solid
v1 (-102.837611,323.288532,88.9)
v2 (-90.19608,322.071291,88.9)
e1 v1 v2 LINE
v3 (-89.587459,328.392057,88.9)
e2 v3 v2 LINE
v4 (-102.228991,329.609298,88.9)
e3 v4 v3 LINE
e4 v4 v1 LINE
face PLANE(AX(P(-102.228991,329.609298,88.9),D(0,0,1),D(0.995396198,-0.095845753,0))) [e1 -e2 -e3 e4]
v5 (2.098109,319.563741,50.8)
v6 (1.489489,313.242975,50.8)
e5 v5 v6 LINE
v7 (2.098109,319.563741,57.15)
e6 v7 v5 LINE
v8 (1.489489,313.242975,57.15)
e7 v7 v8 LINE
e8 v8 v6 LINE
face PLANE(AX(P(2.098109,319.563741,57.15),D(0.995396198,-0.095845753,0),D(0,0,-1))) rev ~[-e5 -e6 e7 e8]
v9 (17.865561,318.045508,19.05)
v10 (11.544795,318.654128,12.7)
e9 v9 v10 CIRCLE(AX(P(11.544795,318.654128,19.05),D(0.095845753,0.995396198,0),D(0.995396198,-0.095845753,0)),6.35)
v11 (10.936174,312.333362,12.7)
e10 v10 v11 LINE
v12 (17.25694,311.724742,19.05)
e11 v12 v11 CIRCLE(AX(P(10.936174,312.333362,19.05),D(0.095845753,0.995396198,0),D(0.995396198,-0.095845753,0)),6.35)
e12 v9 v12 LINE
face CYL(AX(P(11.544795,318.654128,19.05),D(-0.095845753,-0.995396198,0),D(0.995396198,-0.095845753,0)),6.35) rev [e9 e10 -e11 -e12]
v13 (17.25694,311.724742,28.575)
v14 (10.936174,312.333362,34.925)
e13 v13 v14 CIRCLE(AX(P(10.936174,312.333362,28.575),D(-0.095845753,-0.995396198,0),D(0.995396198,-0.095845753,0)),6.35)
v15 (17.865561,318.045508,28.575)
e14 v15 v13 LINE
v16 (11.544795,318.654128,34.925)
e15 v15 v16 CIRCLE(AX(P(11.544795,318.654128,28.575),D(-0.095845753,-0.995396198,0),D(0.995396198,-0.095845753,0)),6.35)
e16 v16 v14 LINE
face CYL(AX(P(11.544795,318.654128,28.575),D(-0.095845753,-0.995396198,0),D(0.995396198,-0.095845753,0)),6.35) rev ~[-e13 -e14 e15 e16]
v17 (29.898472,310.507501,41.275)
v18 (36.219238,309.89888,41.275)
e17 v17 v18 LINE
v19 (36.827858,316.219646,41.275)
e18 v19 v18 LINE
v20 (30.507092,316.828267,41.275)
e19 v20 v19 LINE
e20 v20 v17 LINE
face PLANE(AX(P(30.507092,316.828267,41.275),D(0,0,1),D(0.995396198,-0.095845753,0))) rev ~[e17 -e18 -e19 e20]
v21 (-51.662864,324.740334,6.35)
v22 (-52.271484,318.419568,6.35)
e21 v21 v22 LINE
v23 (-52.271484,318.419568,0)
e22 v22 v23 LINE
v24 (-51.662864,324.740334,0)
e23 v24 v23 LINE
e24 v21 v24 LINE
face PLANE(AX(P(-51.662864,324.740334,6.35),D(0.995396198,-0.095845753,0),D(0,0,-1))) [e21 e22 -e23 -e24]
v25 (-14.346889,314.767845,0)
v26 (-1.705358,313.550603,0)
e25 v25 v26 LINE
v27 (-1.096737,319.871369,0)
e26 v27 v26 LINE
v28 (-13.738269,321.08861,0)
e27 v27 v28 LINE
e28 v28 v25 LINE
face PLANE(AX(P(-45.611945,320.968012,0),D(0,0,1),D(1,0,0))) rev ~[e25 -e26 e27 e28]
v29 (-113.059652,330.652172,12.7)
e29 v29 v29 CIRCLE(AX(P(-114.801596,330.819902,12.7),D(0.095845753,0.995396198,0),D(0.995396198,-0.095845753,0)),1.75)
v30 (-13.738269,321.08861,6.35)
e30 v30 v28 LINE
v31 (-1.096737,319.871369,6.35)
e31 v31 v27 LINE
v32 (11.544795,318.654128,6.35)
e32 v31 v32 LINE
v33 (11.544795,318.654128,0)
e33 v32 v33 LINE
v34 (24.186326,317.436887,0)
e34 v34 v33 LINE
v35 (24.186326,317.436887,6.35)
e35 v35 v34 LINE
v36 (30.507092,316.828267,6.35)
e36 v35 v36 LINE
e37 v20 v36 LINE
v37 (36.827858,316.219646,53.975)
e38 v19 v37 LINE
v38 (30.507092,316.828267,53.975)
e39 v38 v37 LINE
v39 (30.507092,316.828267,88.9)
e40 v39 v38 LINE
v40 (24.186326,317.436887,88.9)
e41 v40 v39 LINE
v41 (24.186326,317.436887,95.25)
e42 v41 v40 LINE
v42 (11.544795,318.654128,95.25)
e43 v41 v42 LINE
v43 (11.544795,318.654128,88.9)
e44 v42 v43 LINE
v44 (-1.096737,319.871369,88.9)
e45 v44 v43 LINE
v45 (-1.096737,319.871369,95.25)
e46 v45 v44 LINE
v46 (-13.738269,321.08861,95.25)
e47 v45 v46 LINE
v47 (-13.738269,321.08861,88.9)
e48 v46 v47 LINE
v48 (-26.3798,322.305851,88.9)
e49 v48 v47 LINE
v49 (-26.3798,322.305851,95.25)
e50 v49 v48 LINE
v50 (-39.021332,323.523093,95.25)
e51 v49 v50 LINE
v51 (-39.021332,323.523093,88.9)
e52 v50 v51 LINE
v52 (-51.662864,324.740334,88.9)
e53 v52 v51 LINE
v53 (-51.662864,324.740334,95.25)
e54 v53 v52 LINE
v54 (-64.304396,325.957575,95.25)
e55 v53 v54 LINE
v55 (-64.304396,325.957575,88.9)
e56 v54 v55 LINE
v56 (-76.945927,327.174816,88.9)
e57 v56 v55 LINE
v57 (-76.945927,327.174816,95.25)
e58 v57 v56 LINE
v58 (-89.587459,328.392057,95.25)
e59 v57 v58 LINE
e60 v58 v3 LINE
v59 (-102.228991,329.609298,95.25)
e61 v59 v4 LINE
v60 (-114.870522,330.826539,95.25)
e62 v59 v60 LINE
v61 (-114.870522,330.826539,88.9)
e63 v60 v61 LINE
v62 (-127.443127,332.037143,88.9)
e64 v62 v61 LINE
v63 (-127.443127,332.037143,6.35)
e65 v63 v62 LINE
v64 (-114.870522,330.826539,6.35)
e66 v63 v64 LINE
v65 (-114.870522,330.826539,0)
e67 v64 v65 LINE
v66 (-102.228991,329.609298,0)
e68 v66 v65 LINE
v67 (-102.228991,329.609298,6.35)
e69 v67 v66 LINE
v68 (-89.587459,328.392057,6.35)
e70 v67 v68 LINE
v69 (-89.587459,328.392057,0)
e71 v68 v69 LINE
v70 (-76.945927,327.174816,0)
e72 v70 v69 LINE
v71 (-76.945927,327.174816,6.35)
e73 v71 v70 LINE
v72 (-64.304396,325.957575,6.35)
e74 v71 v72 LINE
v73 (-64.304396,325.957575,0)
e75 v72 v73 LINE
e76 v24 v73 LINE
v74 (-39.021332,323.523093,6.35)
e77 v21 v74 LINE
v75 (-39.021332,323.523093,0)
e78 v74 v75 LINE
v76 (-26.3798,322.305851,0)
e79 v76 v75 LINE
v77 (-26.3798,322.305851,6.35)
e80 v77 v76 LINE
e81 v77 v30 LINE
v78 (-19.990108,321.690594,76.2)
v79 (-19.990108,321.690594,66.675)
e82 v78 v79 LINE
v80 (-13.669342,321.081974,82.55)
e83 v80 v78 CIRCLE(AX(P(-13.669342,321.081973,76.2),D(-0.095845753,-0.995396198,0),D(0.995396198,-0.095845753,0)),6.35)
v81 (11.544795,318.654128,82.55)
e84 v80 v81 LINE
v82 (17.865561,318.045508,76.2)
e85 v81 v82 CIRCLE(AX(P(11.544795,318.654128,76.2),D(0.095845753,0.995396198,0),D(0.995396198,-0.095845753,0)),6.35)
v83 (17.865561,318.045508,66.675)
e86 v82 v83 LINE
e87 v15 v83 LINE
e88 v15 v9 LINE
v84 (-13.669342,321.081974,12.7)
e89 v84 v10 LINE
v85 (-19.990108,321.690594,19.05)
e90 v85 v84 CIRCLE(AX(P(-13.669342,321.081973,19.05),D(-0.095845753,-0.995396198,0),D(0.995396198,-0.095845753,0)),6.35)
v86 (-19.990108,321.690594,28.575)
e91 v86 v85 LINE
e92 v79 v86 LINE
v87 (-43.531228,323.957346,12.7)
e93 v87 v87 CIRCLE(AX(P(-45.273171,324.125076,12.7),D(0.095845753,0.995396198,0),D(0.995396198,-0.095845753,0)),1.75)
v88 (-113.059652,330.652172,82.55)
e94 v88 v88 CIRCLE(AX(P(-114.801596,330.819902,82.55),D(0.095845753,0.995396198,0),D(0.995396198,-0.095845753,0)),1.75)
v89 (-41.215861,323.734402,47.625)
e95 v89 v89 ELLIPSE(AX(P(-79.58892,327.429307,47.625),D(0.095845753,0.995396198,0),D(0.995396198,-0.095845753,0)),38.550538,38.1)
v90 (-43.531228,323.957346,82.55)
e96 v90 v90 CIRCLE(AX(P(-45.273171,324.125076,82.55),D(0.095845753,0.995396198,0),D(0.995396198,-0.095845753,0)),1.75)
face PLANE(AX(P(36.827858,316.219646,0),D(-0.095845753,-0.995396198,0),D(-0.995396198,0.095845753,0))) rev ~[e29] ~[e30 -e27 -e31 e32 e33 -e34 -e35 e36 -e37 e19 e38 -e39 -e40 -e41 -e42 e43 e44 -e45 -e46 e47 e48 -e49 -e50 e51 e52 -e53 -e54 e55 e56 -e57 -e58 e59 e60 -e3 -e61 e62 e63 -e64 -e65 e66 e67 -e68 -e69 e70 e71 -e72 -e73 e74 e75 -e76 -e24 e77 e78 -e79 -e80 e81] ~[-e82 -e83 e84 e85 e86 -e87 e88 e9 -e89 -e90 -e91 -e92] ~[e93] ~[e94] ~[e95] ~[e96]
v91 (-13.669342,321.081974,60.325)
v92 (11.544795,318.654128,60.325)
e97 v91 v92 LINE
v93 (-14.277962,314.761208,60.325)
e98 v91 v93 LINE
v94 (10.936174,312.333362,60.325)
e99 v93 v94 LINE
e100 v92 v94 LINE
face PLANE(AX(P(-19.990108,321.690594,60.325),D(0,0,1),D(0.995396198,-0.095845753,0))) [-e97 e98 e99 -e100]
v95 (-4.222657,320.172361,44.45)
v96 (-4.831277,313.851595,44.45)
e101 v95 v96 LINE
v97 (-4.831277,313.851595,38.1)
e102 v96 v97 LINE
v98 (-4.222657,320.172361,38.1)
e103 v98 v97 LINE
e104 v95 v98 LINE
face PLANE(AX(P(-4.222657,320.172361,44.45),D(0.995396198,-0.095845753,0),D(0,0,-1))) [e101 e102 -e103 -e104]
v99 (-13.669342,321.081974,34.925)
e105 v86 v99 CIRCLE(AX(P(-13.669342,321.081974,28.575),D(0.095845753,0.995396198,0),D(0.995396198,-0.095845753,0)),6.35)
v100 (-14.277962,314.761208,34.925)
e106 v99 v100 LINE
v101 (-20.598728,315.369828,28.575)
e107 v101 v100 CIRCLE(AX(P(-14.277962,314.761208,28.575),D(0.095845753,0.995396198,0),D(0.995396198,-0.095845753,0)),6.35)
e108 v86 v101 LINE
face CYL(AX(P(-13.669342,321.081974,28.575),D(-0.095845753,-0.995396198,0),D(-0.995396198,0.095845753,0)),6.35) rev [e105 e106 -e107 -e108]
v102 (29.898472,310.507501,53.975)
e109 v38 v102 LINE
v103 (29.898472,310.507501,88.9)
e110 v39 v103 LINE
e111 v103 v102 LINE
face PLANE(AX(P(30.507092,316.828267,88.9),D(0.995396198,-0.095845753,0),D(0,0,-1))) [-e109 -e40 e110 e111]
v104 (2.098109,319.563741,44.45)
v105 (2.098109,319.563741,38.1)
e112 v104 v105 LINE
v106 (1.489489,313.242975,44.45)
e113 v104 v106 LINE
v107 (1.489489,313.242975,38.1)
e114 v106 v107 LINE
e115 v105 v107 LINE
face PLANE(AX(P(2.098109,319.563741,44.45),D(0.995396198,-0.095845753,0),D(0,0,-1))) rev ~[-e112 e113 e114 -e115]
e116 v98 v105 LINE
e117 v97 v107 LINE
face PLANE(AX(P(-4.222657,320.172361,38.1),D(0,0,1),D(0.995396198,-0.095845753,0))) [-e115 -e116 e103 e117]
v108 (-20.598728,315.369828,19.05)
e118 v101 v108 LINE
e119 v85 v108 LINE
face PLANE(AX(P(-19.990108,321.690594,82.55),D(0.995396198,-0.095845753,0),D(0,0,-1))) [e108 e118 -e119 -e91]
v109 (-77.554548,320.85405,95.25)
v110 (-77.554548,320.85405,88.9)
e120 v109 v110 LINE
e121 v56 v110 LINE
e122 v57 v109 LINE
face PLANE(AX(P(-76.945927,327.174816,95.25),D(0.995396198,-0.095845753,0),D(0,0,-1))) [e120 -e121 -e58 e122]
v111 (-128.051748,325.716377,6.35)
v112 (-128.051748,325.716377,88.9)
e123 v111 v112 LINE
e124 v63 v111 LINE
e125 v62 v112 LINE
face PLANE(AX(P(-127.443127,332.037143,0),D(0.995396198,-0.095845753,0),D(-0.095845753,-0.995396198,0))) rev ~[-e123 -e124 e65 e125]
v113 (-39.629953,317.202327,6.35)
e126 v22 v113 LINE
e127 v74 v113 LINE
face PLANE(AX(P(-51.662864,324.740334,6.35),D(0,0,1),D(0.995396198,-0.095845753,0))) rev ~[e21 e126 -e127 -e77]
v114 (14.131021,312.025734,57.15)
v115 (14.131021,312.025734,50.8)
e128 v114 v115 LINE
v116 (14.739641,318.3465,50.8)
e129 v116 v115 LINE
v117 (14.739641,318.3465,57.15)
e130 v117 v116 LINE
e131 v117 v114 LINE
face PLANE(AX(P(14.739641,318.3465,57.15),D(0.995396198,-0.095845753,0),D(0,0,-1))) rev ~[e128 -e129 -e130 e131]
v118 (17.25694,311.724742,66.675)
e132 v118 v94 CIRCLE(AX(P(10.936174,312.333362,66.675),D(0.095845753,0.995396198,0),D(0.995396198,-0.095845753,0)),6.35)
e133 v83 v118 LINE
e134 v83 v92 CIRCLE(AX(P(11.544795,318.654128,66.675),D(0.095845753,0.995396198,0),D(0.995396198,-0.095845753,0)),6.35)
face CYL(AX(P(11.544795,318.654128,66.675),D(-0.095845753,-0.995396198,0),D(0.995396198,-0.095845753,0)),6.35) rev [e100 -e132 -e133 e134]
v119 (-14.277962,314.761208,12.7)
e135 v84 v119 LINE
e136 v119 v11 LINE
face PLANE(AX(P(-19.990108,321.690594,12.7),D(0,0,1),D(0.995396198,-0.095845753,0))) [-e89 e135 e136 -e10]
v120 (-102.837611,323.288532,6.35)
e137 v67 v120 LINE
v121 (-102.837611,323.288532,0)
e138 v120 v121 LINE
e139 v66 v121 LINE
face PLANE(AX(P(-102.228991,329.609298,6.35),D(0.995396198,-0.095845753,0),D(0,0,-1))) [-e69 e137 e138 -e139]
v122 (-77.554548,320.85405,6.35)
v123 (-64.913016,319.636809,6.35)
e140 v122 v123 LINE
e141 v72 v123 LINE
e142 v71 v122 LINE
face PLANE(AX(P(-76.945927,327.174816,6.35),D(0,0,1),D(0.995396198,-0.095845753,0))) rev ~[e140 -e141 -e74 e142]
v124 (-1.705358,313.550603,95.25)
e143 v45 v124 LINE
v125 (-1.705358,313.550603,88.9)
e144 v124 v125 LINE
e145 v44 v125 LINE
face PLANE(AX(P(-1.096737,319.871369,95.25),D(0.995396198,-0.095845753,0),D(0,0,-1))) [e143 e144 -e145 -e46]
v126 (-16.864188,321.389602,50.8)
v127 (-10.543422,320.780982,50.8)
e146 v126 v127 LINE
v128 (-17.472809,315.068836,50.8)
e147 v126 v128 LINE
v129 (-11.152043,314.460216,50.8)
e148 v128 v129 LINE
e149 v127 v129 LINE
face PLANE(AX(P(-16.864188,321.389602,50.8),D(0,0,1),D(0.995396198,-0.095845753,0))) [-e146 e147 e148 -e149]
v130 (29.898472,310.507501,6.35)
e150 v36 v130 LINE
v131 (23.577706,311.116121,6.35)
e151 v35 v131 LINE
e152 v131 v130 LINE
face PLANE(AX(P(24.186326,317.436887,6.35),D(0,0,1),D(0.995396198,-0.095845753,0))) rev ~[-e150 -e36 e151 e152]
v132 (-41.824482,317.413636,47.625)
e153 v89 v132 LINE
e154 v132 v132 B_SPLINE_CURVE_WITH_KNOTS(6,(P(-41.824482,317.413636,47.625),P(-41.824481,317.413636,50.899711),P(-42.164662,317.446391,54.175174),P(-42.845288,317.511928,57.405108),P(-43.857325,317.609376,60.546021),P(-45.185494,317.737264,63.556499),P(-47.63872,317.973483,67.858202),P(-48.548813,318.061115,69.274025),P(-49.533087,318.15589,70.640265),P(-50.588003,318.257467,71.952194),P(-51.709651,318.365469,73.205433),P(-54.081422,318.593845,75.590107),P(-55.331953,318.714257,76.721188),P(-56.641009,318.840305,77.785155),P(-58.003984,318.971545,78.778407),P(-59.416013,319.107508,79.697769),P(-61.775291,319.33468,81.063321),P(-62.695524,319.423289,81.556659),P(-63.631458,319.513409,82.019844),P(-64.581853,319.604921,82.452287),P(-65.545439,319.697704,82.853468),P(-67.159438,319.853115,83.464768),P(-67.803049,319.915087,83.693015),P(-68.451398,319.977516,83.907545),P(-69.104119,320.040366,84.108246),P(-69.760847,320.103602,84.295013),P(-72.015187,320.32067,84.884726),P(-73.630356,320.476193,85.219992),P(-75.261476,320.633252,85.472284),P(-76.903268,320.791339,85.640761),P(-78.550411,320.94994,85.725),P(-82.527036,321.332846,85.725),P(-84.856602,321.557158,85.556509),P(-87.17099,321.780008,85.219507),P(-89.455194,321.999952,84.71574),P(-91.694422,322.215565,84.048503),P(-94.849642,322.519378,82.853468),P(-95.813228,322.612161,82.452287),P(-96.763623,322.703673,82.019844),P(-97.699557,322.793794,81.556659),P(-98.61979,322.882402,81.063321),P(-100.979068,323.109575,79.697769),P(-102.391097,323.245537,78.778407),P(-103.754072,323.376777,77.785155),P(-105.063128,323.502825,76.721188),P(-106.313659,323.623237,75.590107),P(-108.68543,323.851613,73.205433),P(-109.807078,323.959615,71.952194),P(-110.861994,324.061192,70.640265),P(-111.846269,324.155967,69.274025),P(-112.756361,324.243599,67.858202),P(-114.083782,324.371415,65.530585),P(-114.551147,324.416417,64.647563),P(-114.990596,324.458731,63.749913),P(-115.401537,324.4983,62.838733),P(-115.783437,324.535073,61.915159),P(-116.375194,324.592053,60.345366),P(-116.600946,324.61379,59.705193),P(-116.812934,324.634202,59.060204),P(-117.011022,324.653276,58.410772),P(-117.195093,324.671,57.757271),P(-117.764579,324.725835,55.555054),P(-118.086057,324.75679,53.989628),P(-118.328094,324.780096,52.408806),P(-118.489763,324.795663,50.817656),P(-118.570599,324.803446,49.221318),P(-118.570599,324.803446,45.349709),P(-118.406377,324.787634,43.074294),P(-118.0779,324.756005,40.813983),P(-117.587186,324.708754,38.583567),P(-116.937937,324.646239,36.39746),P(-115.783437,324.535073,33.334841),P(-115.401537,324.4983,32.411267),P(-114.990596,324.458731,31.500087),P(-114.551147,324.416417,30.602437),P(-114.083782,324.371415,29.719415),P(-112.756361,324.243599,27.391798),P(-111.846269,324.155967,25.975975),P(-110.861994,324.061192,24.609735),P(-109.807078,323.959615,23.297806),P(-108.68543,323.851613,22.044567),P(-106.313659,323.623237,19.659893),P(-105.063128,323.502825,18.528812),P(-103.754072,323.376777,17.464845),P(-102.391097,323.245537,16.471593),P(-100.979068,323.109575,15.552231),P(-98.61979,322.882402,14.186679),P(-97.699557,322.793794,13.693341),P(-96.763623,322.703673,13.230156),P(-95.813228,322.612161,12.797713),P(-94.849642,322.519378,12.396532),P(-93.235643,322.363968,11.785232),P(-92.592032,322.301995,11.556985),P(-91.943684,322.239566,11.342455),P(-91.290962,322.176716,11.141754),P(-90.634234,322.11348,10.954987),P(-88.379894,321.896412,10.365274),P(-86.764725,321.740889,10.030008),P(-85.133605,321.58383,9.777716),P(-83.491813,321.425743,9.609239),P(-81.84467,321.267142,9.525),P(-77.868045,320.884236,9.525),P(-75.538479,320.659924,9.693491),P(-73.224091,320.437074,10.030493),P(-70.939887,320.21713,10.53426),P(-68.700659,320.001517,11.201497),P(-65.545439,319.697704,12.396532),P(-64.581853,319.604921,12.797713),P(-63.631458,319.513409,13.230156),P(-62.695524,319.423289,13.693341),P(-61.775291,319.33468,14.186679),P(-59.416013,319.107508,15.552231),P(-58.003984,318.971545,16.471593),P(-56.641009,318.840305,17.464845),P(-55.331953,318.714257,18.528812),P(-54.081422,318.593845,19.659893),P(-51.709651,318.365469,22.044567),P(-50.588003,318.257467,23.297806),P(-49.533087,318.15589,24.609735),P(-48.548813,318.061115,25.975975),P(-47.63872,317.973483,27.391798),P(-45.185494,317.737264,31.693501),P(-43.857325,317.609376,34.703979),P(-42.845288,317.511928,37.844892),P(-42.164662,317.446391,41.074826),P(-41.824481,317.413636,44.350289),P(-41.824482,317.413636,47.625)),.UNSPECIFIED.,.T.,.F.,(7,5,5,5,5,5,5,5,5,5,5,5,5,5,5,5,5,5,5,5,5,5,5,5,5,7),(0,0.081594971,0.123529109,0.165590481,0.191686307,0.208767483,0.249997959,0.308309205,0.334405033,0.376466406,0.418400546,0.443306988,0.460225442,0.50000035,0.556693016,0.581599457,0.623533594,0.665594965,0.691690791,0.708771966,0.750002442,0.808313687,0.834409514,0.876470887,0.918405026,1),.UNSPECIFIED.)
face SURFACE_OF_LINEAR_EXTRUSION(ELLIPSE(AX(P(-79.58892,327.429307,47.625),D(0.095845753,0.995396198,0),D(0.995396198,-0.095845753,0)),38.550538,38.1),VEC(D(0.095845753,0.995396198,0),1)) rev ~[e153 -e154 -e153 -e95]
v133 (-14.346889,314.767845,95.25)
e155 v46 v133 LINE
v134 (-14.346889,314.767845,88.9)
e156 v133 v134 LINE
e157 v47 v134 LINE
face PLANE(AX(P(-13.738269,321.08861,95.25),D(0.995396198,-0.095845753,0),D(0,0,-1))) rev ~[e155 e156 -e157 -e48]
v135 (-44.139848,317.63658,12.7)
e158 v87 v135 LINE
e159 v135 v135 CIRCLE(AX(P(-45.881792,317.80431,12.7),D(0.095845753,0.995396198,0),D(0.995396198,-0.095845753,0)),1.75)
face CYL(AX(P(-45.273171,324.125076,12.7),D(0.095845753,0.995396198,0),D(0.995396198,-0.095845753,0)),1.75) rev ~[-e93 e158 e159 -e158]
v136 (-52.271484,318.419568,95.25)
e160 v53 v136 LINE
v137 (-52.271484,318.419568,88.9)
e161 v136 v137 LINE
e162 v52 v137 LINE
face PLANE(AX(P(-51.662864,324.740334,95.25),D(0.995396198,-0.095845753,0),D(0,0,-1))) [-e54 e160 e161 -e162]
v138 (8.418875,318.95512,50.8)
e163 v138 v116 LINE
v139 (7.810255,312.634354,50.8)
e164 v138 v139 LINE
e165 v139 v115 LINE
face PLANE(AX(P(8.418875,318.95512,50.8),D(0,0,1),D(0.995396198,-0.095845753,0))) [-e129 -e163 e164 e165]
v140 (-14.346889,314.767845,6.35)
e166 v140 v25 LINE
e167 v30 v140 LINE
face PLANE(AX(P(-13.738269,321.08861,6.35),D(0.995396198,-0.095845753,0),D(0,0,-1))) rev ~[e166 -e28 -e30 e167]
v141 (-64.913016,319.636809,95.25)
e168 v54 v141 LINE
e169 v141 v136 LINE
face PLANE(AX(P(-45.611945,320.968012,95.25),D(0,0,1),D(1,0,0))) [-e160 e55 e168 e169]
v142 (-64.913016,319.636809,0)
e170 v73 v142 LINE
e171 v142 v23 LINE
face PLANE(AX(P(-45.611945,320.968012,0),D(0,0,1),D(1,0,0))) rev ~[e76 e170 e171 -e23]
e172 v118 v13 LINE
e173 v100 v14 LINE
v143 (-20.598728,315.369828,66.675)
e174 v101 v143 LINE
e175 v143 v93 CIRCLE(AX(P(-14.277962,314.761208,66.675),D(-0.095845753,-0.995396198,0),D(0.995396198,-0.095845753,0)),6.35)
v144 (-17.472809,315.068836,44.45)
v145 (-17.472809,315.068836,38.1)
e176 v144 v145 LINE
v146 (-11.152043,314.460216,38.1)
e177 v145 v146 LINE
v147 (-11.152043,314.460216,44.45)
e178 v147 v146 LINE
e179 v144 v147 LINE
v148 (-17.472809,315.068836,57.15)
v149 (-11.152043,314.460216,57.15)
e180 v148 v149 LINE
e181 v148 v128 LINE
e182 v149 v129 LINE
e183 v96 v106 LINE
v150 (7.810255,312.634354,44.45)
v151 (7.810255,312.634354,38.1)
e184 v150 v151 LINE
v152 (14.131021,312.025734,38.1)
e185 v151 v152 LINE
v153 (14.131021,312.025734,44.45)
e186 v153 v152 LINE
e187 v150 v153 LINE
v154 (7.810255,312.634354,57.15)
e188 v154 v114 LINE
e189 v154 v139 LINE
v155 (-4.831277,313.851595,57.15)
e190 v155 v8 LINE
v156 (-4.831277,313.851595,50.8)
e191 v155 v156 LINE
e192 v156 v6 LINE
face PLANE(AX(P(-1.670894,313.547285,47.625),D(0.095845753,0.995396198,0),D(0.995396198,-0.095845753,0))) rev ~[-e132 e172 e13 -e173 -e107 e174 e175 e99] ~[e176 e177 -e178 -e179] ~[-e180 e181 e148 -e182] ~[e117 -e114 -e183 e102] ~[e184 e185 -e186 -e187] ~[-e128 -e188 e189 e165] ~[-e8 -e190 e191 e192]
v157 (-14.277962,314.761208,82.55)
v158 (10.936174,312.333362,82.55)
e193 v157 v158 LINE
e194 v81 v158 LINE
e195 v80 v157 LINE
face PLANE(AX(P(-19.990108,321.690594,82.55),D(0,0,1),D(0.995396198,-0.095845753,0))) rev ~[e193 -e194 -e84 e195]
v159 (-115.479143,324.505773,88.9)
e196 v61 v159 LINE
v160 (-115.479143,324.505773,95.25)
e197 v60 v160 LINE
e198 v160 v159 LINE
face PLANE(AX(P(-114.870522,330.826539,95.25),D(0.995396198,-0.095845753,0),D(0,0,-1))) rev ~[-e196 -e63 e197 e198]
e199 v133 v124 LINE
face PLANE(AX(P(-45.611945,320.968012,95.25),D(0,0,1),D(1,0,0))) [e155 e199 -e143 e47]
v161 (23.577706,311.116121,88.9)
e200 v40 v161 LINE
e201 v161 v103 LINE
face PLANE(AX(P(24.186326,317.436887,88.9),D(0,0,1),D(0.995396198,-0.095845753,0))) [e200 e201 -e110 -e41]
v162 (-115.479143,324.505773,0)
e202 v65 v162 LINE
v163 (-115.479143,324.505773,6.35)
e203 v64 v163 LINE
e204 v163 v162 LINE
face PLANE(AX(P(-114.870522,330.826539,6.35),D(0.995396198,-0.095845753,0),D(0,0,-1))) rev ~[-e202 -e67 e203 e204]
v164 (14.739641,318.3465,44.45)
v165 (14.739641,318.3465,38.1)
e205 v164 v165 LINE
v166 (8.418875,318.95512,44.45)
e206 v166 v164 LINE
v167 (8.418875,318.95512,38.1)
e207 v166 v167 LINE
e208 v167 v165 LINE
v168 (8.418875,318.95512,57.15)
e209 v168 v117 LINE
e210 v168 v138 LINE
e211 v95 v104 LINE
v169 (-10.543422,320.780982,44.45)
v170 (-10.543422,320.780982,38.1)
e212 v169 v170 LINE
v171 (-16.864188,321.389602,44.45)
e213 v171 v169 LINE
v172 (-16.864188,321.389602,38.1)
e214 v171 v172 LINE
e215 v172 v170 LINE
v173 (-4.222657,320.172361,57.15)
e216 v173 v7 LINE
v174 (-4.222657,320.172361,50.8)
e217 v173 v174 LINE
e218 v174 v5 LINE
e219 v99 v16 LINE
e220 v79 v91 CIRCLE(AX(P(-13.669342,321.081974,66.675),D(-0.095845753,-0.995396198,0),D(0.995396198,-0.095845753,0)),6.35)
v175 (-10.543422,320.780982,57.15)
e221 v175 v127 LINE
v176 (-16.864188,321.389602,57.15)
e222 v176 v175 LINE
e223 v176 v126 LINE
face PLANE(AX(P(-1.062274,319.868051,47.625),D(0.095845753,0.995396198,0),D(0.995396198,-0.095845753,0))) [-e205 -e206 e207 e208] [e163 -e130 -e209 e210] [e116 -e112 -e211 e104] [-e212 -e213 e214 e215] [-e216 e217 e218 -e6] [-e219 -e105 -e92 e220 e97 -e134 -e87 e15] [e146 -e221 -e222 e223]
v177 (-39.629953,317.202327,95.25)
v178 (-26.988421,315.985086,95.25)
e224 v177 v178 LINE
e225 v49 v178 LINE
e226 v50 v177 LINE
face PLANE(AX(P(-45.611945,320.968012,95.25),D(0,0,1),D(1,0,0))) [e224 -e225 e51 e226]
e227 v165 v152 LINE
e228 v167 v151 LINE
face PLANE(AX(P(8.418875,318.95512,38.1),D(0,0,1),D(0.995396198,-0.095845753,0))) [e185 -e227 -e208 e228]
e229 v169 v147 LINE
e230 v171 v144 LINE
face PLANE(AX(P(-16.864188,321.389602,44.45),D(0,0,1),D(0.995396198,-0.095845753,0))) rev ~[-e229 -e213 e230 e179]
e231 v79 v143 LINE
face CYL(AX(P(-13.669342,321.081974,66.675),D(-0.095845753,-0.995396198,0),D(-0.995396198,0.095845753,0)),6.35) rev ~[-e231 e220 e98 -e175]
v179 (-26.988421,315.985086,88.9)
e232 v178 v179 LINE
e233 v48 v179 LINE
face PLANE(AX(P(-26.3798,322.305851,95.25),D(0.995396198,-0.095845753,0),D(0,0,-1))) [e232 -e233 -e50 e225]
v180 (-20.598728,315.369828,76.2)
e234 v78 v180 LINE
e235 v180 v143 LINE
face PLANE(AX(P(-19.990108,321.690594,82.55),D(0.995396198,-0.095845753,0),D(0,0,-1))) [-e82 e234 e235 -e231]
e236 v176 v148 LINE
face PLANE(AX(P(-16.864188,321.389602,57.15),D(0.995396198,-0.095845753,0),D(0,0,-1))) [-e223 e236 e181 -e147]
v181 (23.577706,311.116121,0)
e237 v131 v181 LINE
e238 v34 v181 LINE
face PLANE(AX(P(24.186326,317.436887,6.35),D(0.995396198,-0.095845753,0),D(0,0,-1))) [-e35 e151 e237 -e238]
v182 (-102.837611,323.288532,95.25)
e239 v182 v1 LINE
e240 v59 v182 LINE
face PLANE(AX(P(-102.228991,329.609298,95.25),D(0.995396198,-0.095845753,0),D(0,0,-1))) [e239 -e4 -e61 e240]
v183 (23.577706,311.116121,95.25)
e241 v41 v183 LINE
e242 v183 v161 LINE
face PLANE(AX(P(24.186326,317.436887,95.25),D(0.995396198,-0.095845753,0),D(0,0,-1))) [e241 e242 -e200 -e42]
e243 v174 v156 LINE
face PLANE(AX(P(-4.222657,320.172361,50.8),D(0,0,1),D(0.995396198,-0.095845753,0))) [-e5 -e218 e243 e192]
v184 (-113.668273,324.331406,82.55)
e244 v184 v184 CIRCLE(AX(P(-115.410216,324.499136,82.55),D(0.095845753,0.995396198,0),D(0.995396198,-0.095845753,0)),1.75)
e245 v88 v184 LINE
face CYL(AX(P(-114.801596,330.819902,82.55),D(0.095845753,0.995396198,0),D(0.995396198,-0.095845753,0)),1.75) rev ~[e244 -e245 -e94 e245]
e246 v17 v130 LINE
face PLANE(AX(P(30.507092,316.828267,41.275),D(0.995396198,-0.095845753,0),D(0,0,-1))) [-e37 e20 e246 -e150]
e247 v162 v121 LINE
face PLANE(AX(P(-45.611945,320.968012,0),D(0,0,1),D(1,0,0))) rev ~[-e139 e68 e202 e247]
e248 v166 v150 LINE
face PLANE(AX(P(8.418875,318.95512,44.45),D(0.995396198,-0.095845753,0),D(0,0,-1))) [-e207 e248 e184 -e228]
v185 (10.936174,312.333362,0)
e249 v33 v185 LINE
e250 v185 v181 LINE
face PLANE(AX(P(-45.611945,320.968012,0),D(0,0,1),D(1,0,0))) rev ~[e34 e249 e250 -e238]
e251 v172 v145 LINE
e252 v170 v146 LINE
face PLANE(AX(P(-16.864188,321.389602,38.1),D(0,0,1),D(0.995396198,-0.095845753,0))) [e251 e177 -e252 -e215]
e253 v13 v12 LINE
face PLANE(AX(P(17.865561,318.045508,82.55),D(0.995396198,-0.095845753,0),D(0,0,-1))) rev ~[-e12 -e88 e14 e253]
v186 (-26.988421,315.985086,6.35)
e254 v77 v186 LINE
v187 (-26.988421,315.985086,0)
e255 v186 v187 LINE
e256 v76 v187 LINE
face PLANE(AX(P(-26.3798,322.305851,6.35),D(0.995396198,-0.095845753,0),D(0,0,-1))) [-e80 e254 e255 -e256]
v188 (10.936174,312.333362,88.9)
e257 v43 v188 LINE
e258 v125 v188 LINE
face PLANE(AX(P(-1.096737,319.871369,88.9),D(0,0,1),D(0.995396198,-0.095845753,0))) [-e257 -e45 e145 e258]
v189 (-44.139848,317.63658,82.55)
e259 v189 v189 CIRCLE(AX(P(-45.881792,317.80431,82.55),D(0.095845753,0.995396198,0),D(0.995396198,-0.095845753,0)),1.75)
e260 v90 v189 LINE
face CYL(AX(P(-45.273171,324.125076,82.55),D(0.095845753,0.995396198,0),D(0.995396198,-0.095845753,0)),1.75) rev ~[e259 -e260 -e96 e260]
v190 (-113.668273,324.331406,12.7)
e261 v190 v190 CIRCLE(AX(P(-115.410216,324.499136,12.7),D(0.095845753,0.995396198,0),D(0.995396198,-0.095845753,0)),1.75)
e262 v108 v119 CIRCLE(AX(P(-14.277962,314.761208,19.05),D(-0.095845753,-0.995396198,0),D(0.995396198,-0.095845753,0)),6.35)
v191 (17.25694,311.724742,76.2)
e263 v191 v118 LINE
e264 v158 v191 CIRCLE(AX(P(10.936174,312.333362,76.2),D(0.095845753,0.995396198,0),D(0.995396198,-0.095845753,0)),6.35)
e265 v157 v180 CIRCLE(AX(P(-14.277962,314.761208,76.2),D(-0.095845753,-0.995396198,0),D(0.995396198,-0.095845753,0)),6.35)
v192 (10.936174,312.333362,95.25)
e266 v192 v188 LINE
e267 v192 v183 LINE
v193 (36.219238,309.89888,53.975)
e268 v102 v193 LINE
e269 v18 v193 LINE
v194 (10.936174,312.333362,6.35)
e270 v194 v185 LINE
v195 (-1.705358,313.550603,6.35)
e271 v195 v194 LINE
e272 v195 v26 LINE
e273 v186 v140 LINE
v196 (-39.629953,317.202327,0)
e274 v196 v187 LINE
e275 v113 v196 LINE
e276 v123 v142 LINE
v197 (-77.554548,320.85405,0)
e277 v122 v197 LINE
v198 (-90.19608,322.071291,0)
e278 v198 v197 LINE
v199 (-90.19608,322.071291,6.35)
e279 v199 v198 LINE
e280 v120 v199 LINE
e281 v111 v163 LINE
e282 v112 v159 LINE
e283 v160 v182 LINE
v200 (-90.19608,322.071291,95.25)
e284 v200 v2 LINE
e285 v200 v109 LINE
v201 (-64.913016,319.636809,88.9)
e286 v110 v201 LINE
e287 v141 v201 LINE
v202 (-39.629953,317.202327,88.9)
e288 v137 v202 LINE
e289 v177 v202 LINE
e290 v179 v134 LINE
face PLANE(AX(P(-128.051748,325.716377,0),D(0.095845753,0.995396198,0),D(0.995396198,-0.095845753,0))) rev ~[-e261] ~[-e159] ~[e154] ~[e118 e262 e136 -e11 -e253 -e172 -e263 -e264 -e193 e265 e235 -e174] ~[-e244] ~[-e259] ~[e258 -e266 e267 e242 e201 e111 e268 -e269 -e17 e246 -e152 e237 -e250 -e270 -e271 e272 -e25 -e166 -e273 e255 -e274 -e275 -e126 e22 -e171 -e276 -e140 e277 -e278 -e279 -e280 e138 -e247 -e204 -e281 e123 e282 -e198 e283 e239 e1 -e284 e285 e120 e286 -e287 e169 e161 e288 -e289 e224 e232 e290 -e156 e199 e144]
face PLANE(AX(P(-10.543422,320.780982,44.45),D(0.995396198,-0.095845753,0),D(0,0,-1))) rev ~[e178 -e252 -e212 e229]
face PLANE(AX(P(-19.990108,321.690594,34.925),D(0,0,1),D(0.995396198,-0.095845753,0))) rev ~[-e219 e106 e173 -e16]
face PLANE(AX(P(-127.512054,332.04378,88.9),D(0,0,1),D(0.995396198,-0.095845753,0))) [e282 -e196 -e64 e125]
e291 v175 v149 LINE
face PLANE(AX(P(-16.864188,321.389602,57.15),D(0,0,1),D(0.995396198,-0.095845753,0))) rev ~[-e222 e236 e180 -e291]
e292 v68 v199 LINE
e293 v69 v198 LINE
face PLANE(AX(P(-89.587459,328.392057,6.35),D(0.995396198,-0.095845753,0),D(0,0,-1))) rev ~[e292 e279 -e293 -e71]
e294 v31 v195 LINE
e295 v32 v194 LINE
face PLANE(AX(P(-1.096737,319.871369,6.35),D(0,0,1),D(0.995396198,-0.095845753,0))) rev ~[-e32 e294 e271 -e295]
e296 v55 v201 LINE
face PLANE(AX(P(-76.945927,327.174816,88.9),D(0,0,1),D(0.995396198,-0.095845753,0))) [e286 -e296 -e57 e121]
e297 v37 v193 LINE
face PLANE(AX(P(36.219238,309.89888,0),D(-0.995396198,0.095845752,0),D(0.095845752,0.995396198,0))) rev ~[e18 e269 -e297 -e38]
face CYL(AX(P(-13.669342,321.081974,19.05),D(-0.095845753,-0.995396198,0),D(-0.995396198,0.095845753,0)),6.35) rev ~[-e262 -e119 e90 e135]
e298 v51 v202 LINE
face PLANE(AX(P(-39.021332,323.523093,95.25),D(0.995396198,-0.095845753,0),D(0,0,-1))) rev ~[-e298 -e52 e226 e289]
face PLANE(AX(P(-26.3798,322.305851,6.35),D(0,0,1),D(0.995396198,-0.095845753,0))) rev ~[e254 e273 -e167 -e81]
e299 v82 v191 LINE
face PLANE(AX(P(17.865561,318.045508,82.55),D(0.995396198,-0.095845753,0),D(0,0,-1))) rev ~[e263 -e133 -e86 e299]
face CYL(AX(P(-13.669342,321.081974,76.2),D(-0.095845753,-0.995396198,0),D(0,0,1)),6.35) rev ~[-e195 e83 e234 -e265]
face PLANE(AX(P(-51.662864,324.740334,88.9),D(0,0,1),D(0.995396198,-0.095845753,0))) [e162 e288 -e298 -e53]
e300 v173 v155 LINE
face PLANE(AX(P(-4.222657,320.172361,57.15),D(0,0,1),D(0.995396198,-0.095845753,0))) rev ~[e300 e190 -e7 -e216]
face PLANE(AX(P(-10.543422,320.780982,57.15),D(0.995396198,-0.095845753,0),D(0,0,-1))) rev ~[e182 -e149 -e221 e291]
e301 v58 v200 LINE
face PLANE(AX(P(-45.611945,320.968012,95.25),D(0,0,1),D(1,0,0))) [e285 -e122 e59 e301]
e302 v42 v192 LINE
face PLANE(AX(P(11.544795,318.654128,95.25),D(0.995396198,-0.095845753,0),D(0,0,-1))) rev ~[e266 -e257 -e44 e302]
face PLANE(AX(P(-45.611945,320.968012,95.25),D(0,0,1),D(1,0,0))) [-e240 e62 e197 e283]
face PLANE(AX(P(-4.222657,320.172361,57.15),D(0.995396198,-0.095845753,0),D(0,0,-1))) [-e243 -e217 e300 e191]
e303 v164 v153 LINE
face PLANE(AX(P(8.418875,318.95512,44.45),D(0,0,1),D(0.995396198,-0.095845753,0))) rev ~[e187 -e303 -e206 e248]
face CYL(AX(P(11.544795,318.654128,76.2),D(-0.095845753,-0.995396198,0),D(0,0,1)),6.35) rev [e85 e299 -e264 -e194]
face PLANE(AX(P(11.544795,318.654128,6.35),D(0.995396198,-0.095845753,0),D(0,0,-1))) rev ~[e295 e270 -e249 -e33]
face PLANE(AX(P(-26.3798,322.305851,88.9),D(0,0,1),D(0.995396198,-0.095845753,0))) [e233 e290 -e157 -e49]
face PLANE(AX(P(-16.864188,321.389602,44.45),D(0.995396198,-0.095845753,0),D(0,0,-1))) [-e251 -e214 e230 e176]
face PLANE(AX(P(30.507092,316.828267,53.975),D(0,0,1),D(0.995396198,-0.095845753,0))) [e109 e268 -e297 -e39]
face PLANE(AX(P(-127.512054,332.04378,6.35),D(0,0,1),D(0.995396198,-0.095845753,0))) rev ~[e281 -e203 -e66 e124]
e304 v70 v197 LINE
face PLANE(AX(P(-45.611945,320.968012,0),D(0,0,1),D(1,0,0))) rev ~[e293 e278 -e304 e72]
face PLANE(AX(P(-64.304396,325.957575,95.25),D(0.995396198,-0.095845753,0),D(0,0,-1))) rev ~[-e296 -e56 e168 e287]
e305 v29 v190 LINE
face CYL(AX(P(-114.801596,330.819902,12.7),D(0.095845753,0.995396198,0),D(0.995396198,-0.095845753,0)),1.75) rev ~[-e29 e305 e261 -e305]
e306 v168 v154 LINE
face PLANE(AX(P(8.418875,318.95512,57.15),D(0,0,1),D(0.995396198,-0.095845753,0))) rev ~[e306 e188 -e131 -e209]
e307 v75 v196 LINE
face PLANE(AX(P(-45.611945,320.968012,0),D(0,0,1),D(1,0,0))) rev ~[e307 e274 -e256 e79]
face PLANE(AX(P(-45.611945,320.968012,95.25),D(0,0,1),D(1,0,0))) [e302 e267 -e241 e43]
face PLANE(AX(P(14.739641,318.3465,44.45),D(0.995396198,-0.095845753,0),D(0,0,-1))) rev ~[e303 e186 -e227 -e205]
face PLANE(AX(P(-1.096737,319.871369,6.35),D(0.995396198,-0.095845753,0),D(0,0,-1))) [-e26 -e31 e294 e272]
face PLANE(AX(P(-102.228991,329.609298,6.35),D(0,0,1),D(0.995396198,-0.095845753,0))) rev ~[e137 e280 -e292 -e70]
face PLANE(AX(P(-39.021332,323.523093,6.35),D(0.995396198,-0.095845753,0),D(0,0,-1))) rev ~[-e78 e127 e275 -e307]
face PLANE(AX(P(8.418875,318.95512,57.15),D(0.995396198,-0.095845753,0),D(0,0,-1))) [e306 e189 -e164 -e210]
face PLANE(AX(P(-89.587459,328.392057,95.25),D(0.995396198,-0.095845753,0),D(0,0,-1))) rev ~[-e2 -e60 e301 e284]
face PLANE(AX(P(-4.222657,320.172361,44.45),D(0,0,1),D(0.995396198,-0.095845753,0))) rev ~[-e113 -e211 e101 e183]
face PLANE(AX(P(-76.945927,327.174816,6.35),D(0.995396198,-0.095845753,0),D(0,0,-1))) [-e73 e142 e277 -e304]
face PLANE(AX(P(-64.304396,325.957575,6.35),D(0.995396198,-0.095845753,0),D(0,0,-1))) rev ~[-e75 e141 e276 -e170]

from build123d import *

# Parameters (mm, degrees)
BOSS_EXTRUDE1_DEPTH = 95.25
SKETCH3_RX          = 38.550537557
SKETCH3_RY          = 38.1
CUT_EXTRUDE1_DEPTH  = 23.094676213
SKETCH4_R           = 1.75
CUT_EXTRUDE2_DEPTH  = 23.094676322
SKETCH5_W           = 38.030754259
SKETCH5_H           = 69.85
CUT_EXTRUDE3_DEPTH  = 23.094676322
SKETCH7_W           = 12.7
SKETCH7_H           = 6.35
CUT_EXTRUDE4_DEPTH  = 23.094676322
LPATTERN1_COUNT     = 17
LPATTERN1_PITCH     = 25.4
SKETCH8_W           = 6.35
SKETCH8_H           = 34.925
CUT_EXTRUDE5_DEPTH  = 23.094676322
SKETCH9_W           = 38.030754259
SKETCH9_H           = 25.4
BOSS_EXTRUDE2_DEPTH = 6.35
SKETCH10_W          = 6.35
SKETCH10_H          = 6.35
CUT_EXTRUDE6_DEPTH  = 23.094676322
LPATTERN2_COUNT     = 2
LPATTERN2_PITCH     = 12.7
LPATTERN2_COL_COUNT = 2
LPATTERN2_COL_PITCH = 12.7
FILLET1_R           = 6.35


with BuildPart() as part:
    # Sketch2 → Boss-Extrude1 (new body)
    with BuildSketch(Plane.XY):
        Polygon((-127.443127302, 332.037142994), (-128.051747831, 325.716377135), (36.219237573, 309.898880304), (36.827858101, 316.219646163), align=None)
    extrude(amount=BOSS_EXTRUDE1_DEPTH)

    # Sketch3 → Cut-Extrude1 (cut, through all)
    with BuildSketch(Plane(origin=(30.507092242, 316.828266692, 0), x_dir=(0.995396198, -0.095845753, 0), z_dir=(0.095845753, 0.995396198, 0))):
        with Locations((-110.605216702, -47.625)):
            Ellipse(SKETCH3_RX, SKETCH3_RY)
    extrude(amount=-CUT_EXTRUDE1_DEPTH, mode=Mode.SUBTRACT)

    # Sketch4 → Cut-Extrude2 (cut, through all)
    with BuildSketch(Plane(origin=(30.507092242, 316.828266692, 0), x_dir=(0.995396198, -0.095845753, 0), z_dir=(0.095845753, 0.995396198, 0))):
        with Locations((-145.980754259, -12.7)):
            Circle(SKETCH4_R)
        with Locations((-145.980754259, -82.55)):
            Circle(SKETCH4_R)
        with Locations((-76.130754259, -82.55)):
            Circle(SKETCH4_R)
        with Locations((-76.130754259, -12.7)):
            Circle(SKETCH4_R)
    extrude(amount=-CUT_EXTRUDE2_DEPTH, mode=Mode.SUBTRACT)

    # Sketch5 → Cut-Extrude3 (cut, through all)
    with BuildSketch(Plane(origin=(30.507092242, 316.828266692, 0), x_dir=(0.995396198, -0.095845753, 0), z_dir=(0.095845753, 0.995396198, 0))):
        with Locations((-31.71537713, -47.625)):
            Rectangle(SKETCH5_W, SKETCH5_H)
    extrude(amount=-CUT_EXTRUDE3_DEPTH, mode=Mode.SUBTRACT)

    # Sketch7 → Cut-Extrude4 (cut, through all)
    with BuildSketch(Plane(origin=(30.507092242, 316.828266692, 0), x_dir=(0.995396198, -0.095845753, 0), z_dir=(0.095845753, 0.995396198, 0))):
        with Locations((0, -3.175)):
            Rectangle(SKETCH7_W, SKETCH7_H)
        with Locations((0, -92.075)):
            Rectangle(SKETCH7_W, SKETCH7_H)
    cut_extrude4 = extrude(amount=-CUT_EXTRUDE4_DEPTH, mode=Mode.SUBTRACT)

    # LPattern1: Cut-Extrude4 ×17
    with Locations(*[Vector(-0.995396198, 0.095845753, 0) * (i * LPATTERN1_PITCH) for i in range(1, LPATTERN1_COUNT)]):
        add(cut_extrude4, mode=Mode.SUBTRACT)

    # Sketch8 → Cut-Extrude5 (cut, through all)
    with BuildSketch(Plane(origin=(30.507092242, 316.828266692, 0), x_dir=(0.995396198, -0.095845753, 0), z_dir=(0.095845753, 0.995396198, 0))):
        with Locations((3.175, -23.8125)):
            Rectangle(SKETCH8_W, SKETCH8_H)
        with Locations((3.175, -71.4375)):
            Rectangle(SKETCH8_W, SKETCH8_H)
    extrude(amount=-CUT_EXTRUDE5_DEPTH, mode=Mode.SUBTRACT)

    # Sketch9 → Boss-Extrude2 (add)
    with BuildSketch(Plane(origin=(30.507092242, 316.828266692, 0), x_dir=(0.995396198, -0.095845753, 0), z_dir=(0.095845753, 0.995396198, 0))):
        with Locations((-31.71537713, -47.625)):
            Rectangle(SKETCH9_W, SKETCH9_H)
    extrude(amount=-BOSS_EXTRUDE2_DEPTH)

    # Sketch10 → Cut-Extrude6 (cut, through all)
    with BuildSketch(Plane(origin=(30.507092242, 316.828266692, 0), x_dir=(0.995396198, -0.095845753, 0), z_dir=(0.095845753, 0.995396198, 0))):
        with Locations((-31.71537713, -41.275)):
            Rectangle(SKETCH10_W, SKETCH10_H)
        with Locations((-31.71537713, -53.975)):
            Rectangle(SKETCH10_W, SKETCH10_H)
    cut_extrude6 = extrude(amount=-CUT_EXTRUDE6_DEPTH, mode=Mode.SUBTRACT)

    # LPattern2: Cut-Extrude6 ×2
    with Locations(*[Vector(0.995396198, -0.095845753, 0) * (i * LPATTERN2_PITCH) for i in range(1, LPATTERN2_COUNT)]):
        add(cut_extrude6, mode=Mode.SUBTRACT)

    # LPattern2 col: Cut-Extrude6 ×2
    with Locations(*[Vector(-0.995396198, 0.095845753, 0) * (i * LPATTERN2_COL_PITCH) for i in range(1, LPATTERN2_COL_COUNT)]):
        add(cut_extrude6, mode=Mode.SUBTRACT)

    # Fillet1
    fillet1_edges = [part.edges().sort_by_distance(p)[0] for p in [
        (17.561250258, 314.885124819, 34.925),
        (17.561250258, 314.885124819, 60.325),
        (-20.294417953, 318.53021108, 60.325),
        (-20.294417953, 318.53021108, 34.925),
        (-20.294417953, 318.53021108, 82.55),
        (-20.294417953, 318.53021108, 12.7),
        (17.561250258, 314.885124819, 12.7),
        (17.561250258, 314.885124819, 82.55),
    ]]
    fillet(fillet1_edges, radius=FILLET1_R)


solid = part.part
